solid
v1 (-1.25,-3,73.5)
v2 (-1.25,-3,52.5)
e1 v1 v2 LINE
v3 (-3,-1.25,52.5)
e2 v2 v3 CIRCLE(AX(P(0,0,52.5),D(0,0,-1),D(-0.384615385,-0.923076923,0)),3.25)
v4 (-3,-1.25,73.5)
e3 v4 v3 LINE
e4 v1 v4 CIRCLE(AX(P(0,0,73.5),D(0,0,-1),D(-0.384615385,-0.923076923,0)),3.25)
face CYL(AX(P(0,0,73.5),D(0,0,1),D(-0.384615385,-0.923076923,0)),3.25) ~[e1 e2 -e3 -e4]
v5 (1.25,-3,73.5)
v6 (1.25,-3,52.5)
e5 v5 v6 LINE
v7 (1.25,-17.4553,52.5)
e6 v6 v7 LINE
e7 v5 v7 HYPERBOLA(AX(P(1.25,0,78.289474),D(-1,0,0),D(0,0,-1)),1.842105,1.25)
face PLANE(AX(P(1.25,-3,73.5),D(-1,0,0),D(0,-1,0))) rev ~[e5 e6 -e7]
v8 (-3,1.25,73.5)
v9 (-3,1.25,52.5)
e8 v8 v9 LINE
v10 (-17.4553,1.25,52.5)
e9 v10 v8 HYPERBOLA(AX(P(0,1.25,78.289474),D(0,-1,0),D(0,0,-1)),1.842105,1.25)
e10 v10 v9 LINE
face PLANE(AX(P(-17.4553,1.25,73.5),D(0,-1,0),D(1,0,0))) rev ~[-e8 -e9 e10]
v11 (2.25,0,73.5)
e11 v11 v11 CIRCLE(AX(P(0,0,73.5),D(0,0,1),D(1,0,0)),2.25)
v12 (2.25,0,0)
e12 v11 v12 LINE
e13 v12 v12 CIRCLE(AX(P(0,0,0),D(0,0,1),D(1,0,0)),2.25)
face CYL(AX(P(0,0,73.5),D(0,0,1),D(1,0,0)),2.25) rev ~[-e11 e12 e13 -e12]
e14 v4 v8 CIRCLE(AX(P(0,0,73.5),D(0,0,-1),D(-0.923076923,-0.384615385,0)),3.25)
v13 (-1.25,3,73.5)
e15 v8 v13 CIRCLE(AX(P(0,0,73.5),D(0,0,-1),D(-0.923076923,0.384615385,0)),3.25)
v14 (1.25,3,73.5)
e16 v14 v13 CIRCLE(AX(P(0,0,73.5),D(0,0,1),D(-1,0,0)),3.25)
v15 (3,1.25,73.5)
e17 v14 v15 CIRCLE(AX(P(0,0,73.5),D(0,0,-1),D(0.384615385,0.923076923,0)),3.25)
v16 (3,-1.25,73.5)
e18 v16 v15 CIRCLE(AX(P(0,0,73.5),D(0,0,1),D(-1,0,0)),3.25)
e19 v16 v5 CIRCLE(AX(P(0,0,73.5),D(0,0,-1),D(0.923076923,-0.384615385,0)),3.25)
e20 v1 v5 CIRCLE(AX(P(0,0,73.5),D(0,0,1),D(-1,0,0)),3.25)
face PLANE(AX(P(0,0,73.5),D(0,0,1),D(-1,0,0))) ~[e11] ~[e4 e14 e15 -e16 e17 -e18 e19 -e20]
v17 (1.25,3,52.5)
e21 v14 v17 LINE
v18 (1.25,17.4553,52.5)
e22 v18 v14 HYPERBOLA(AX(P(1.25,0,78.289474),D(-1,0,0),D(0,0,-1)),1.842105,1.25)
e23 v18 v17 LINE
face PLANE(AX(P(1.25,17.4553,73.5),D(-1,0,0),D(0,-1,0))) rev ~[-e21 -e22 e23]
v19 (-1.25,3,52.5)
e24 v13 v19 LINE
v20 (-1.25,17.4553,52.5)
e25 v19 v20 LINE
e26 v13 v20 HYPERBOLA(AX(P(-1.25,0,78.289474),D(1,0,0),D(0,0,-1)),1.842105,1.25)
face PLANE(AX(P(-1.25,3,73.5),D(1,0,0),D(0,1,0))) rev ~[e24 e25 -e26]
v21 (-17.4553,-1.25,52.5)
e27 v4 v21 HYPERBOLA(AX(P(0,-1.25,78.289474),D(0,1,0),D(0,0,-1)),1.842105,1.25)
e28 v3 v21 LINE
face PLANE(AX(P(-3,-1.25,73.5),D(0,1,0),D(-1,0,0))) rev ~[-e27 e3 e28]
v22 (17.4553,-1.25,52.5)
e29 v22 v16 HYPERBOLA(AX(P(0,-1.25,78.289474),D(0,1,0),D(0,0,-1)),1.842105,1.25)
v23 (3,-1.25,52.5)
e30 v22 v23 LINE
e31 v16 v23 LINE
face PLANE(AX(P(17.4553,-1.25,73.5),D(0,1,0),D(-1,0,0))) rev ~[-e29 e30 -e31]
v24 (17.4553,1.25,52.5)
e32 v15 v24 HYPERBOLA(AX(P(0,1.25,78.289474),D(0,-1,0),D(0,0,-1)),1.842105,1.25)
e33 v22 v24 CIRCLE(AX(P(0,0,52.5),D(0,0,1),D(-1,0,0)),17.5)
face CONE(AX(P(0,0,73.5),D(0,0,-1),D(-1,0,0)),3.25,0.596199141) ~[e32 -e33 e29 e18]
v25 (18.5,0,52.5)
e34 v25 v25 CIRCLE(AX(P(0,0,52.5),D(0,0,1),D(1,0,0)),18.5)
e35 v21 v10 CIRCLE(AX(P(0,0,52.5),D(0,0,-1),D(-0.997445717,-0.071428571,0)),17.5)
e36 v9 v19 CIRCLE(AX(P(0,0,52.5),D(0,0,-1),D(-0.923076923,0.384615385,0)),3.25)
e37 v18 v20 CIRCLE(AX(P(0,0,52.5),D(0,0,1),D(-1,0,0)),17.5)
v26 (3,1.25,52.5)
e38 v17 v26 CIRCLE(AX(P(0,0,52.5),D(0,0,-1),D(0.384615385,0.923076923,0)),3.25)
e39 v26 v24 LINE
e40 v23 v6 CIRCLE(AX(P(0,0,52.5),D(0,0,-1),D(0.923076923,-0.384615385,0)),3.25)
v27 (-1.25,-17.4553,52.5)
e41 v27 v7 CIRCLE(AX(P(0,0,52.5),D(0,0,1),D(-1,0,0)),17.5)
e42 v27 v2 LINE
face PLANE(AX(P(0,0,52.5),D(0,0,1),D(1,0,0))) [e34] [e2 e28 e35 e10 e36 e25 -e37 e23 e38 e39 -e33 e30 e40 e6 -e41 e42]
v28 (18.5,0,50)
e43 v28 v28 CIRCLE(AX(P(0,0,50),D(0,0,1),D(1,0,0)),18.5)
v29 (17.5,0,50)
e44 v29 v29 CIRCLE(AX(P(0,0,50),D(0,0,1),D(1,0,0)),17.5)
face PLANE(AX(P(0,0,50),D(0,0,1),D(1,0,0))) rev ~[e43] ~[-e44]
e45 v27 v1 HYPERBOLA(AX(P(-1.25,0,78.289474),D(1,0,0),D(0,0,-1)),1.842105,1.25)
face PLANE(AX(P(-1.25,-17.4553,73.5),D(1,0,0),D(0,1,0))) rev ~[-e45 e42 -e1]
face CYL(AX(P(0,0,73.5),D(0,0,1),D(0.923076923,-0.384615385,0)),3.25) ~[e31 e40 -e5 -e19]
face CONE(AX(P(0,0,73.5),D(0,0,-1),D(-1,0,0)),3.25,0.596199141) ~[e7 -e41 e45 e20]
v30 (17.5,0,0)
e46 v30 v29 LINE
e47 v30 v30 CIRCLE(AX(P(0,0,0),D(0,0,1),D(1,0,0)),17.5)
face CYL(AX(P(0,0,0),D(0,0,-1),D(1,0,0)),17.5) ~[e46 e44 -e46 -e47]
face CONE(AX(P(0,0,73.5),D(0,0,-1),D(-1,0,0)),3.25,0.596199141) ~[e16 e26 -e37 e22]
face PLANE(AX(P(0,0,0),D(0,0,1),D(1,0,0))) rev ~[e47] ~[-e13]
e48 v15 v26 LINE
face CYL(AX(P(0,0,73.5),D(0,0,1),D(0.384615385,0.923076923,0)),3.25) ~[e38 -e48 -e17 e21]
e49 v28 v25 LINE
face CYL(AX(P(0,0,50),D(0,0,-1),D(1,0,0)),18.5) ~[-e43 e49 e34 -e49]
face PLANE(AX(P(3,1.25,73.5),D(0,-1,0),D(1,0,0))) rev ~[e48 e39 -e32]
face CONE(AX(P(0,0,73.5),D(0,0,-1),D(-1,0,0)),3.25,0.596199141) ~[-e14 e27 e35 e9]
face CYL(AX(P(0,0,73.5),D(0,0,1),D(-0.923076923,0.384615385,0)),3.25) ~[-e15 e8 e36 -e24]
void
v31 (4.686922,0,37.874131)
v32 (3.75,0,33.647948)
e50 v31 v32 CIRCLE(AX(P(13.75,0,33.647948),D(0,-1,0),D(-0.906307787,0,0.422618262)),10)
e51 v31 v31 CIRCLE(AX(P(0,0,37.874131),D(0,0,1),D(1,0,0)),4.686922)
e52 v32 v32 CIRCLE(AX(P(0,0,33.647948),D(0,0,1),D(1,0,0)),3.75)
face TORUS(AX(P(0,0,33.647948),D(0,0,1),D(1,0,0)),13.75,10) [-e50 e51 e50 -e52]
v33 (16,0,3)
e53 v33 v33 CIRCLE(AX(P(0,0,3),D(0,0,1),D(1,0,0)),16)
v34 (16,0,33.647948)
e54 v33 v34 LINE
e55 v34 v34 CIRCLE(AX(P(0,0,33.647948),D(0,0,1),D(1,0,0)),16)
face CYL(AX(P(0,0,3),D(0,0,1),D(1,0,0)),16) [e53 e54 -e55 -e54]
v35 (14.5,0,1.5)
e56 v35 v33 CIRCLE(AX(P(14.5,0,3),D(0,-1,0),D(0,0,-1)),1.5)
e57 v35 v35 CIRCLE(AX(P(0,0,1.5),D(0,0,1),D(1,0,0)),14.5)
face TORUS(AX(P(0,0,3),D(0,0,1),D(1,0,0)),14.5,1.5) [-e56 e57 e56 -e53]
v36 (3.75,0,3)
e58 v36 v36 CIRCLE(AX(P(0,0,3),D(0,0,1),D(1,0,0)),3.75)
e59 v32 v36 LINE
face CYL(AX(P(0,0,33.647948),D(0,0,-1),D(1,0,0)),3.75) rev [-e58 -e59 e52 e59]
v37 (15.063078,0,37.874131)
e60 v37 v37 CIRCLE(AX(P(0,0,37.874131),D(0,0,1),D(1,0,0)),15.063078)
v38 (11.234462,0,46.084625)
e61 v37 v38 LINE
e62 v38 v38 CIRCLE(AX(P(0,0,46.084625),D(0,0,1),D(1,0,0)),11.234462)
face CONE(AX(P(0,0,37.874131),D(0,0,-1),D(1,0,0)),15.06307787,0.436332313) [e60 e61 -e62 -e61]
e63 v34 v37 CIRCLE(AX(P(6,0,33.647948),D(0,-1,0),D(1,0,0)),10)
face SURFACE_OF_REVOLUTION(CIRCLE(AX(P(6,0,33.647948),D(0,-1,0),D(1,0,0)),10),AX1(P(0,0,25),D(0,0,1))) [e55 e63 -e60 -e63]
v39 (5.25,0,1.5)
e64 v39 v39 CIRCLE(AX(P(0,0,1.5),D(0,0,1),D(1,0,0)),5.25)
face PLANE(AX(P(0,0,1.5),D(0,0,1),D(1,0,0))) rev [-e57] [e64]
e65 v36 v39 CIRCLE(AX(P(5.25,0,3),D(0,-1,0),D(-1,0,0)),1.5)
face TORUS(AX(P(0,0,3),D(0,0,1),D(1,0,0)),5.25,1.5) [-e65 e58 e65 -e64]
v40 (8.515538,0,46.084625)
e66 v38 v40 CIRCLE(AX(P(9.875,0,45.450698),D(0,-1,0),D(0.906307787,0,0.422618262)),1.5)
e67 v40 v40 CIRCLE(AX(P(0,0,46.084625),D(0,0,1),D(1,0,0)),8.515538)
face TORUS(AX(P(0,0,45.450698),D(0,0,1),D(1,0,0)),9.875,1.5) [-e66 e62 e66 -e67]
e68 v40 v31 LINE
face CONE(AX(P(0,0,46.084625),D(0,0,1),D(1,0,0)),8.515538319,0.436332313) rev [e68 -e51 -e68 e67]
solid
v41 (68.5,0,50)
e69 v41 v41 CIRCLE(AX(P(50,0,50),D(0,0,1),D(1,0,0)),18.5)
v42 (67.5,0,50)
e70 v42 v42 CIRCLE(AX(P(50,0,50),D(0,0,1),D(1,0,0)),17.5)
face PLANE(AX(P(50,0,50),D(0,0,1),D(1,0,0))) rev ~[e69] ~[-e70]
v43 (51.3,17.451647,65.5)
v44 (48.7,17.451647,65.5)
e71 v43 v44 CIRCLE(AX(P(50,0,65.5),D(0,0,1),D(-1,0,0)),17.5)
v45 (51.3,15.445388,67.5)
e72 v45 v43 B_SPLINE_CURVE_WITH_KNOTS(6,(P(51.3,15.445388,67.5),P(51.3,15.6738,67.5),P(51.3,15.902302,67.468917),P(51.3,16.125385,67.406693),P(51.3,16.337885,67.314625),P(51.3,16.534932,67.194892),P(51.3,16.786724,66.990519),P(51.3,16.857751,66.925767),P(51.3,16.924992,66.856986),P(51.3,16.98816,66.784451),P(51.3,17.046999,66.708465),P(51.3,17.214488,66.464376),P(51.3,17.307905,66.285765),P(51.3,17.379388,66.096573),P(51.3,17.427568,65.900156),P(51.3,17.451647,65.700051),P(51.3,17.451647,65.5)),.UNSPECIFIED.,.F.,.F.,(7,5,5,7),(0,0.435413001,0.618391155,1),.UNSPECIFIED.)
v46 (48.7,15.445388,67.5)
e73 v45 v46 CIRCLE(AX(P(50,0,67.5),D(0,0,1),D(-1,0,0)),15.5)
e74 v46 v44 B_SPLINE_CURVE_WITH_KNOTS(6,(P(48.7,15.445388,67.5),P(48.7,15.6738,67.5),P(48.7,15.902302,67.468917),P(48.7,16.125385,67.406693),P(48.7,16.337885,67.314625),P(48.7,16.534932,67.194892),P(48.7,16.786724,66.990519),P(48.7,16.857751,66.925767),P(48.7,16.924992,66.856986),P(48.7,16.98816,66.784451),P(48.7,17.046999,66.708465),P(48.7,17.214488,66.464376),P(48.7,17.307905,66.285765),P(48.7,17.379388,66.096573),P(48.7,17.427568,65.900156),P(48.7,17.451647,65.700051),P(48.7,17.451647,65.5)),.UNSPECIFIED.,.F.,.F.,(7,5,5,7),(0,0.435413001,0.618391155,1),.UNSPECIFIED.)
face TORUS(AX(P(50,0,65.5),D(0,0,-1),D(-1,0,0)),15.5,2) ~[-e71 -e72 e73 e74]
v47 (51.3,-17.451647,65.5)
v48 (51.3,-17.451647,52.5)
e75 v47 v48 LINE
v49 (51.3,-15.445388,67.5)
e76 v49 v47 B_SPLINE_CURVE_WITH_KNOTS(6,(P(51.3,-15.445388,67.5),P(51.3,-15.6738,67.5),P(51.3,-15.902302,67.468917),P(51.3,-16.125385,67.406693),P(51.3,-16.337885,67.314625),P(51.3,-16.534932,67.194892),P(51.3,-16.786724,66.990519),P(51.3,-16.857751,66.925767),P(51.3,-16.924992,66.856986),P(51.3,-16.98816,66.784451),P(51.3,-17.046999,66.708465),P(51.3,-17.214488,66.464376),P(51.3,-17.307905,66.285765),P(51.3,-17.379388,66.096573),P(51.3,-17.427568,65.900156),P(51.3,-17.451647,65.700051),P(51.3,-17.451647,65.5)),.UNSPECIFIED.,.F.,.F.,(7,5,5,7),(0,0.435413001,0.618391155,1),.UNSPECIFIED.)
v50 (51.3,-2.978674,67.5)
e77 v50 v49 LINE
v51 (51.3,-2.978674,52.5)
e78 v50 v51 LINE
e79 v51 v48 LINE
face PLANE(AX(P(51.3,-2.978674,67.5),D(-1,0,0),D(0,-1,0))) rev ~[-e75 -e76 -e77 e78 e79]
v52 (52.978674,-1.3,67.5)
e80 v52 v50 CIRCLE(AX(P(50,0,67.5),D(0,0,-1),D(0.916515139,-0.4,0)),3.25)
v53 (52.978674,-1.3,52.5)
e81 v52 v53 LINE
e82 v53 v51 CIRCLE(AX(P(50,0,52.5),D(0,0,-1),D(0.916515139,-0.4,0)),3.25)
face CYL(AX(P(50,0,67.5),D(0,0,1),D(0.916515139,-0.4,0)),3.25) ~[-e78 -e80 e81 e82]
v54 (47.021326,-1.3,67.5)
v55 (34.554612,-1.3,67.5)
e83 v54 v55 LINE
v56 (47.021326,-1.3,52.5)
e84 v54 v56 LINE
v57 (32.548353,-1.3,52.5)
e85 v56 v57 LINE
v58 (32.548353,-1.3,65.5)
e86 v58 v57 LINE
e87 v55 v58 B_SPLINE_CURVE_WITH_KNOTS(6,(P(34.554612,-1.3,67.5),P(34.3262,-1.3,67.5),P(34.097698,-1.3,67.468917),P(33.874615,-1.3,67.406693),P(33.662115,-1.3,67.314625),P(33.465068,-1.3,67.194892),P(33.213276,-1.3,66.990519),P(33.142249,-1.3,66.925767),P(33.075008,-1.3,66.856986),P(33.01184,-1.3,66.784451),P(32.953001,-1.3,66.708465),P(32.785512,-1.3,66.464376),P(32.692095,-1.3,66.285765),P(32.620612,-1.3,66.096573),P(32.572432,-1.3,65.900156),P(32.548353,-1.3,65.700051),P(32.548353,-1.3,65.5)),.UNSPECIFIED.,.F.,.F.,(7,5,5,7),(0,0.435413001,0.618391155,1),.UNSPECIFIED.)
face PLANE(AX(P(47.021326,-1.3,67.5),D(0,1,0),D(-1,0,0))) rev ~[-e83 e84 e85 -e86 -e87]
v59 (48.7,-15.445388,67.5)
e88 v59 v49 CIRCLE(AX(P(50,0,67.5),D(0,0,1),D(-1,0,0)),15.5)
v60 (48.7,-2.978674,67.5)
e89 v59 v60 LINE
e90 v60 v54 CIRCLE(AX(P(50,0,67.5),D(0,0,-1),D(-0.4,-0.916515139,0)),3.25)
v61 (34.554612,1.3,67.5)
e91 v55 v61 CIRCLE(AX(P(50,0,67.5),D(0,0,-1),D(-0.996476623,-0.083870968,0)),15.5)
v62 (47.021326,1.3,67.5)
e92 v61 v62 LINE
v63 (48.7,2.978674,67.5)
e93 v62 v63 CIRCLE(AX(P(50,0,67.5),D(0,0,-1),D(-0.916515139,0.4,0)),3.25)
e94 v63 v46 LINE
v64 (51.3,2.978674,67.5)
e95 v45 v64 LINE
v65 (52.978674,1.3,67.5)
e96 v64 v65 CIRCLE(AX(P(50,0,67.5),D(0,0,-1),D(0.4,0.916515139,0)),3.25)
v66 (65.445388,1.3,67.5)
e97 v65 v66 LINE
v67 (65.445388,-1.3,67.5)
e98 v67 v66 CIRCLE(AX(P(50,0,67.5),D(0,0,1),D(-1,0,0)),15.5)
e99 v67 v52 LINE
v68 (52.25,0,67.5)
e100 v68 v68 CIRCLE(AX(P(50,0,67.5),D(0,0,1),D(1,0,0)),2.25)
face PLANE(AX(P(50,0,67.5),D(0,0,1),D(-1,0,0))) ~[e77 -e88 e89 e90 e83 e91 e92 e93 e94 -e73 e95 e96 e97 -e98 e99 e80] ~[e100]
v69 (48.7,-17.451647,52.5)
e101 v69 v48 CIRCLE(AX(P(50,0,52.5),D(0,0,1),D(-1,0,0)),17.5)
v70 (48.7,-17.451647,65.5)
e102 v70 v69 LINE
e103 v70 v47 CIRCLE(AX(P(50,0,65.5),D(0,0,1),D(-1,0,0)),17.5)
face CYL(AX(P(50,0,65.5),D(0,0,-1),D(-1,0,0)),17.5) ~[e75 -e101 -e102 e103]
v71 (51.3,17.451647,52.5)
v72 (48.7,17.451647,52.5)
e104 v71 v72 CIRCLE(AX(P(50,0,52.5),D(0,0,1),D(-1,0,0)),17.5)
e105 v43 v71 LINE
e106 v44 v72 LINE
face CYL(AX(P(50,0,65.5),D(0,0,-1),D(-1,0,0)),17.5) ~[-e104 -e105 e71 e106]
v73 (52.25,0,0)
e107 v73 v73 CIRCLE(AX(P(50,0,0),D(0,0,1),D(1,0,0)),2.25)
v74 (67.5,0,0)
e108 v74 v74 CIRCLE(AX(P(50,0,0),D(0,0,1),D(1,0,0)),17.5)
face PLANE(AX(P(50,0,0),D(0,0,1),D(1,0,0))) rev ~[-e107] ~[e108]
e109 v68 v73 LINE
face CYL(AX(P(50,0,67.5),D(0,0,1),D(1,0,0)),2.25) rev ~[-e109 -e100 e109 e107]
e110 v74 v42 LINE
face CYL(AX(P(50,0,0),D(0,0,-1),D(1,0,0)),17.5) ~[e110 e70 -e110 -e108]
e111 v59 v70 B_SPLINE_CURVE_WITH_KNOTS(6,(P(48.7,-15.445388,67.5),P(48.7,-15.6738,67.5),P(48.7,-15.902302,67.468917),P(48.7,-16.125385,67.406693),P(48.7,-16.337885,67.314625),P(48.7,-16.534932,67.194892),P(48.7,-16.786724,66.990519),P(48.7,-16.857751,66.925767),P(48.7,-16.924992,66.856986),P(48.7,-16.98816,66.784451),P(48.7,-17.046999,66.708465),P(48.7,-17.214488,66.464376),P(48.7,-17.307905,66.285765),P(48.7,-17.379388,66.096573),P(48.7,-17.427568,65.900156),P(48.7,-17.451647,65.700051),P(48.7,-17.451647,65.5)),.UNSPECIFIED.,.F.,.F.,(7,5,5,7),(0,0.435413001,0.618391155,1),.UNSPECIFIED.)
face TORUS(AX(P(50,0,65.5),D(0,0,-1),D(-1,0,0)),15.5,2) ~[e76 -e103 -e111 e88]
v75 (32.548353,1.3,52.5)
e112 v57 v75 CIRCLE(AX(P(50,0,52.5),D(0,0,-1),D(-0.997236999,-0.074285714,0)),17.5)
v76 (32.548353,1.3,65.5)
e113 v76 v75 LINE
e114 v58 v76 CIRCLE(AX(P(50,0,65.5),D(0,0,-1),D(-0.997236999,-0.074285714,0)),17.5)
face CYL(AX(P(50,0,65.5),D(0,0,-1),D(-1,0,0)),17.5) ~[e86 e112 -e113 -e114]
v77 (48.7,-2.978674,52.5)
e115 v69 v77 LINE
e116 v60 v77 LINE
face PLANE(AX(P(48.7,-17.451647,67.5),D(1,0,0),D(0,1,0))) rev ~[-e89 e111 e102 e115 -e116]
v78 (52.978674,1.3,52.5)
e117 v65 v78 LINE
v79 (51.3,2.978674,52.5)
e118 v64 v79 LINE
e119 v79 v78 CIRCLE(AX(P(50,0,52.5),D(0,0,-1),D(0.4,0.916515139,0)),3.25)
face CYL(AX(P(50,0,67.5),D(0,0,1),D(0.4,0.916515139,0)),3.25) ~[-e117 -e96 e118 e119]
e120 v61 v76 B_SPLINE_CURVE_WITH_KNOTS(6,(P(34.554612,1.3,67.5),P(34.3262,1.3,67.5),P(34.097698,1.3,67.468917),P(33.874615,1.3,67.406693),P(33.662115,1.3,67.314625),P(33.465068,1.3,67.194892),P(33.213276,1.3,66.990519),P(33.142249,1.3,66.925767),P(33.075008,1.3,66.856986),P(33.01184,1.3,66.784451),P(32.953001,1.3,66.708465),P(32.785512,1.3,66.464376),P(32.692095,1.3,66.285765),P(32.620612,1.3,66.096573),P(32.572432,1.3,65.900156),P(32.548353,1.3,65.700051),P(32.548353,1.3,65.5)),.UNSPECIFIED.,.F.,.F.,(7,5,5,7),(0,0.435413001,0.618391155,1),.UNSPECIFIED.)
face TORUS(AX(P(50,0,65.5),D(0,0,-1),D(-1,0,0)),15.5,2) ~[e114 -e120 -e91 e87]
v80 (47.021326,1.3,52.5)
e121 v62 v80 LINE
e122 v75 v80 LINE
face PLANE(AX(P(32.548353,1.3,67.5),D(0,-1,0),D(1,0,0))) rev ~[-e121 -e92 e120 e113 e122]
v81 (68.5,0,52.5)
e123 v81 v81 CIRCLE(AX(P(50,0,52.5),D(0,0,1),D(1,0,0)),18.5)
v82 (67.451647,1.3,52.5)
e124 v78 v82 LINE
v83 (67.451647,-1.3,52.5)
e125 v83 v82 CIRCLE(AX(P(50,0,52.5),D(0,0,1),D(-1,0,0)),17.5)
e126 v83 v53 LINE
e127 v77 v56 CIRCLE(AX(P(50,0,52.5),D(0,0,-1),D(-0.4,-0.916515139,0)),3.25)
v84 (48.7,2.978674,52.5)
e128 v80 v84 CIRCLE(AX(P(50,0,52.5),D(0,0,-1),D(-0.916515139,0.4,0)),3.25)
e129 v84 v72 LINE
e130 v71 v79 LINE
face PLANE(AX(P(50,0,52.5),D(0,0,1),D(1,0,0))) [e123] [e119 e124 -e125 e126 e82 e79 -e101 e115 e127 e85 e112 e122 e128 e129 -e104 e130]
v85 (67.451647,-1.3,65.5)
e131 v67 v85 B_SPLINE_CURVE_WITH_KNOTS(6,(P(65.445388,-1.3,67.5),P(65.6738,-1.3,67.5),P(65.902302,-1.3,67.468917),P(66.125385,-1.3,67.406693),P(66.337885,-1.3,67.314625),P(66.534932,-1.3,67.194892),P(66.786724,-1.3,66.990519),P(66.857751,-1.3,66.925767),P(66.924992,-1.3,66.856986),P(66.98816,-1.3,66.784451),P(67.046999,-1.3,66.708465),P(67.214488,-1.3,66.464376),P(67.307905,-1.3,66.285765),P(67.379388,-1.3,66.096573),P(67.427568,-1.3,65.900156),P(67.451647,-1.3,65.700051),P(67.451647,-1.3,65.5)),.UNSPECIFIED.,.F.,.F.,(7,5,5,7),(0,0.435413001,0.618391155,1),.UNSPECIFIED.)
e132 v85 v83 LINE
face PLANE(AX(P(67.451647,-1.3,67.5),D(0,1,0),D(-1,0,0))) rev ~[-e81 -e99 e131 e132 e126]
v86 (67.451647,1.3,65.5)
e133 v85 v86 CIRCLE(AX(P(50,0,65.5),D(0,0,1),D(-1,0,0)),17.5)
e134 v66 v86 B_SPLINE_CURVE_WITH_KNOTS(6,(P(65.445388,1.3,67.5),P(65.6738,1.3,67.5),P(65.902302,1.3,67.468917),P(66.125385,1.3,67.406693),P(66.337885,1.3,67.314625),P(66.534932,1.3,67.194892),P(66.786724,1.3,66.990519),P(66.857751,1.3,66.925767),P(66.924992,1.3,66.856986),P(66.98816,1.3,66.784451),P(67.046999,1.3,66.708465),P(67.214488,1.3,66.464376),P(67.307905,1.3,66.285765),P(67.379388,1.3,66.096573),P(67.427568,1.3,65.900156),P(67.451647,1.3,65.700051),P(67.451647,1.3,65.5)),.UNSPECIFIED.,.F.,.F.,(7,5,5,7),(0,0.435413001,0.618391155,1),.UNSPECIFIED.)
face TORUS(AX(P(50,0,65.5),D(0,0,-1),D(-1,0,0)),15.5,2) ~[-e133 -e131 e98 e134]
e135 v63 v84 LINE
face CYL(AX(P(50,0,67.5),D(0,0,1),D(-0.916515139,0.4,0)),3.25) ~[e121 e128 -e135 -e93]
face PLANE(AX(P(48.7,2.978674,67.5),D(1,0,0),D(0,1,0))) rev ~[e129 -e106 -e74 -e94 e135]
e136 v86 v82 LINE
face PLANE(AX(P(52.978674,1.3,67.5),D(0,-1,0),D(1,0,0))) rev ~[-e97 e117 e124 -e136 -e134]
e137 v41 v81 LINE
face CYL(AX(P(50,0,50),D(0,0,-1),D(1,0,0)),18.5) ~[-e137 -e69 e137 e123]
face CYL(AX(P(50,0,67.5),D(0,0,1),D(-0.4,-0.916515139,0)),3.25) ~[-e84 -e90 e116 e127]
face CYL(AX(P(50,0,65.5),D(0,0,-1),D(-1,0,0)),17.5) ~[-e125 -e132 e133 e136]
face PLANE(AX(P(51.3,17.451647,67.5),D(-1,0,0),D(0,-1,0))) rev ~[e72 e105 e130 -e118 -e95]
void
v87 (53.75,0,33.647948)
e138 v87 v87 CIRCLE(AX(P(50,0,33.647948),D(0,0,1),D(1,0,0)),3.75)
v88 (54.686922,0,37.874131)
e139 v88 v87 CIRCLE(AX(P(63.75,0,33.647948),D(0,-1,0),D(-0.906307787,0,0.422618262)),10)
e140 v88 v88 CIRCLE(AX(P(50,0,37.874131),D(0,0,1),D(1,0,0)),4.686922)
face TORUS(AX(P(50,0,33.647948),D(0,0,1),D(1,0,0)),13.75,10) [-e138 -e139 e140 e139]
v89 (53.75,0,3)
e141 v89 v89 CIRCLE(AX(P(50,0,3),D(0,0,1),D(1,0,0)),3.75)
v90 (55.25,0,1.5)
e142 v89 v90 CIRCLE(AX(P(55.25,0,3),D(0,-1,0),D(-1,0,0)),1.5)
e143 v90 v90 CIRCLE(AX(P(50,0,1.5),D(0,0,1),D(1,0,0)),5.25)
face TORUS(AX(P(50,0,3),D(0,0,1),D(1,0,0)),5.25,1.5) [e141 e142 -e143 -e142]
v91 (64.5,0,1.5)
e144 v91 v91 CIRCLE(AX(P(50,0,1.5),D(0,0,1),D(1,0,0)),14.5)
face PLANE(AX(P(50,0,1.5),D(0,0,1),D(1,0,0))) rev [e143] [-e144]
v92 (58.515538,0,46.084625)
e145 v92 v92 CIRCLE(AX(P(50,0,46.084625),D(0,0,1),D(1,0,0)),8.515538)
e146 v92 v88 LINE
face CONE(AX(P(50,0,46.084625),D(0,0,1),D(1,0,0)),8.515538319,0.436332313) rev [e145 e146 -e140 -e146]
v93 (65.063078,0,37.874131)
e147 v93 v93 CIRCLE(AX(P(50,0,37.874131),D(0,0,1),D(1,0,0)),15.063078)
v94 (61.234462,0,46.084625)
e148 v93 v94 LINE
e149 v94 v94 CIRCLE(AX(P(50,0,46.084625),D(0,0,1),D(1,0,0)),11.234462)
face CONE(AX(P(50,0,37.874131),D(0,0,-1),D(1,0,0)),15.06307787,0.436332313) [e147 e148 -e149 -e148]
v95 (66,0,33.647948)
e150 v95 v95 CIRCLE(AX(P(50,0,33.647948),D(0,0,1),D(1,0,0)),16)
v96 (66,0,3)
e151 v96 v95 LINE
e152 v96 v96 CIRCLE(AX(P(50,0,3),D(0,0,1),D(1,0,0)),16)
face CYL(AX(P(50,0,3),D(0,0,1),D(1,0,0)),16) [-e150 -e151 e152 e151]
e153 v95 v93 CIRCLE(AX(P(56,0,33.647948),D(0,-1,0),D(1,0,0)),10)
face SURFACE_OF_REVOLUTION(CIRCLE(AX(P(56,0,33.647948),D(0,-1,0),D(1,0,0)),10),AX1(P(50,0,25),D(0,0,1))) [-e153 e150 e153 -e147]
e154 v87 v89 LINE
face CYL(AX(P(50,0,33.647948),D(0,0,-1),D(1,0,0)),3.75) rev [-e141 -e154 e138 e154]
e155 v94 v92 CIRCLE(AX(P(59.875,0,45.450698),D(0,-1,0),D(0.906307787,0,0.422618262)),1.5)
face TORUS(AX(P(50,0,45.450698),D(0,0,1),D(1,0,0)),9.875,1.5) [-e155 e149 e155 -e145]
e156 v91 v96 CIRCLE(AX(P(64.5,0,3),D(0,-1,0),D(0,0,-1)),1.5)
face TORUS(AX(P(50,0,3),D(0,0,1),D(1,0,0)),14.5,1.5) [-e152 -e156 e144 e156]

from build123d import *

# Parameters (mm, degrees)
F3_R      = 17.5
F4_DEPTH  = 50
F7_R      = 18.5
F7_R_2    = 17.5
F8_DEPTH  = 2.5
F13_DEPTH = 21
F14_R     = 2.25
F15_DEPTH = 73.5
F19_DEPTH = 15
F20_R     = 2.25
F21_DEPTH = 67.5


with BuildPart() as f4:
    # F3 (on Top) → F4 (new body)
    with BuildSketch(Plane.XY):
        Circle(F3_R)
    extrude(amount=F4_DEPTH)

    # F5 (on Front) → F6 (revolve, cut)
    with BuildSketch(Plane.XZ):
        with BuildLine():
            ThreePointArc((3.75, 3), (4.1893398282, 1.9393398282), (5.25, 1.5))
            Line((5.25, 1.5), (14.5, 1.5))
            ThreePointArc((14.5, 1.5), (15.5606601718, 1.9393398282), (16, 3))
            Line((16, 3), (16, 33.6479484854))
            ThreePointArc((16, 33.6479484854), (15.7629600712, 35.8123446248), (15.0630778704, 37.8741311029))
            Line((15.0630778704, 37.8741311029), (11.2344616806, 46.0846250179))
            ThreePointArc((11.2344616806, 46.0846250179), (9.875, 46.9506976253), (8.5155383194, 46.0846250179))
            Line((8.5155383194, 46.0846250179), (4.6869221296, 37.8741311029))
            ThreePointArc((4.6869221296, 37.8741311029), (3.9870399288, 35.8123446248), (3.75, 33.6479484854))
            Line((3.75, 33.6479484854), (3.75, 3))
        make_face()
    revolve(axis=Axis((0, 0, 25), (0, 0, 1)), mode=Mode.SUBTRACT)

    # F7 (on face) → F8 (join)
    with BuildSketch(Plane.XY.offset(50)):
        Circle(F7_R)
        Circle(F7_R_2, mode=Mode.SUBTRACT)
        Circle(F7_R_2)
    extrude(amount=F8_DEPTH)


with BuildPart() as f9_1:
    # F9: copy of F4
    add(f4.part.moved(Location((50, 0, 0))))

    # F16 (on Front) → F17 (revolve)
    with BuildSketch(Plane.XZ):
        with BuildLine():
            Line((32.5, 65.5), (32.5, 52.5))
            Line((32.5, 52.5), (50, 52.5))
            Line((50, 52.5), (50, 67.5))
            Line((50, 67.5), (34.5, 67.5))
            ThreePointArc((34.5, 67.5), (33.0857864376, 66.9142135624), (32.5, 65.5))
        make_face()
    revolve(axis=Axis((50, 0, 60), (0, 0, 1)))

    # F18 (on face) → F19 (cut, through all)
    with BuildSketch(Plane.XY.offset(67.5)):
        with BuildLine():
            Line((48.7, 2.9786742017), (48.7, 17.4516474867))
            ThreePointArc((48.7, 17.4516474867), (37.6256313292, 12.3743686708), (32.5483525133, 1.3))
            Line((32.5483525133, 1.3), (47.0213257983, 1.3))
            ThreePointArc((47.0213257983, 1.3), (47.7019029611, 2.2980970389), (48.7, 2.9786742017))
        make_face()
        with BuildLine():
            ThreePointArc((67.4516474867, 1.3), (62.3743686708, 12.3743686708), (51.3, 17.4516474867))
            Line((51.3, 17.4516474867), (51.3, 2.9786742017))
            ThreePointArc((51.3, 2.9786742017), (52.2980970389, 2.2980970389), (52.9786742017, 1.3))
            Line((52.9786742017, 1.3), (67.4516474867, 1.3))
        make_face()
        with BuildLine():
            ThreePointArc((52.9786742017, -1.3), (52.2980970389, -2.2980970389), (51.3, -2.9786742017))
            Line((51.3, -2.9786742017), (51.3, -17.4516474867))
            ThreePointArc((51.3, -17.4516474867), (62.3743686708, -12.3743686708), (67.4516474867, -1.3))
            Line((67.4516474867, -1.3), (52.9786742017, -1.3))
        make_face()
        with BuildLine():
            Line((48.7, -17.4516474867), (48.7, -2.9786742017))
            ThreePointArc((48.7, -2.9786742017), (47.7019029611, -2.2980970389), (47.0213257983, -1.3))
            Line((47.0213257983, -1.3), (32.5483525133, -1.3))
            ThreePointArc((32.5483525133, -1.3), (37.6256313292, -12.3743686708), (48.7, -17.4516474867))
        make_face()
    extrude(amount=-F19_DEPTH, mode=Mode.SUBTRACT)

    # F20 (on face) → F21 (cut, through all)
    with BuildSketch(Plane.XY.offset(67.5)):
        with Locations((50, 0)):
            Circle(F20_R)
    extrude(amount=-F21_DEPTH, mode=Mode.SUBTRACT)


with BuildPart() as f4_1:
    add(f4.part)

    # F10 (on Front) → F11 (revolve)
    with BuildSketch(Plane.XZ):
        Polygon((-3.25, 73.5), (-17.5, 52.5), (0, 52.5), (0, 73.5), align=None)
    revolve(axis=Axis((0, 0, 63), (0, 0, 1)))

    # F12 (on face) → F13 (cut, through all)
    with BuildSketch(Plane.XY.offset(73.5)):
        with BuildLine():
            ThreePointArc((-1.25, 17.4553000547), (-12.3743686708, 12.3743686708), (-17.4553000547, 1.25))
            Line((-17.4553000547, 1.25), (-3, 1.25))
            ThreePointArc((-3, 1.25), (-2.2980970389, 2.2980970389), (-1.25, 3))
            Line((-1.25, 3), (-1.25, 17.4553000547))
        make_face()
        with BuildLine():
            Line((1.25, 17.4553000547), (1.25, 3))
            ThreePointArc((1.25, 3), (2.2980970389, 2.2980970389), (3, 1.25))
            Line((3, 1.25), (17.4553000547, 1.25))
            ThreePointArc((17.4553000547, 1.25), (12.3743686708, 12.3743686708), (1.25, 17.4553000547))
        make_face()
        with BuildLine():
            ThreePointArc((3, -1.25), (2.2980970389, -2.2980970389), (1.25, -3))
            Line((1.25, -3), (1.25, -17.4553000547))
            ThreePointArc((1.25, -17.4553000547), (12.3743686708, -12.3743686708), (17.4553000547, -1.25))
            Line((17.4553000547, -1.25), (3, -1.25))
        make_face()
        with BuildLine():
            ThreePointArc((-1.25, -3), (-2.2980970389, -2.2980970389), (-3, -1.25))
            Line((-3, -1.25), (-17.4553000547, -1.25))
            ThreePointArc((-17.4553000547, -1.25), (-12.3743686708, -12.3743686708), (-1.25, -17.4553000547))
            Line((-1.25, -17.4553000547), (-1.25, -3))
        make_face()
    extrude(amount=-F13_DEPTH, mode=Mode.SUBTRACT)

    # F14 (on face) → F15 (cut, through all)
    with BuildSketch(Plane.XY.offset(73.5)):
        Circle(F14_R)
    extrude(amount=-F15_DEPTH, mode=Mode.SUBTRACT)


solid = Compound([f9_1.part, f4_1.part])
